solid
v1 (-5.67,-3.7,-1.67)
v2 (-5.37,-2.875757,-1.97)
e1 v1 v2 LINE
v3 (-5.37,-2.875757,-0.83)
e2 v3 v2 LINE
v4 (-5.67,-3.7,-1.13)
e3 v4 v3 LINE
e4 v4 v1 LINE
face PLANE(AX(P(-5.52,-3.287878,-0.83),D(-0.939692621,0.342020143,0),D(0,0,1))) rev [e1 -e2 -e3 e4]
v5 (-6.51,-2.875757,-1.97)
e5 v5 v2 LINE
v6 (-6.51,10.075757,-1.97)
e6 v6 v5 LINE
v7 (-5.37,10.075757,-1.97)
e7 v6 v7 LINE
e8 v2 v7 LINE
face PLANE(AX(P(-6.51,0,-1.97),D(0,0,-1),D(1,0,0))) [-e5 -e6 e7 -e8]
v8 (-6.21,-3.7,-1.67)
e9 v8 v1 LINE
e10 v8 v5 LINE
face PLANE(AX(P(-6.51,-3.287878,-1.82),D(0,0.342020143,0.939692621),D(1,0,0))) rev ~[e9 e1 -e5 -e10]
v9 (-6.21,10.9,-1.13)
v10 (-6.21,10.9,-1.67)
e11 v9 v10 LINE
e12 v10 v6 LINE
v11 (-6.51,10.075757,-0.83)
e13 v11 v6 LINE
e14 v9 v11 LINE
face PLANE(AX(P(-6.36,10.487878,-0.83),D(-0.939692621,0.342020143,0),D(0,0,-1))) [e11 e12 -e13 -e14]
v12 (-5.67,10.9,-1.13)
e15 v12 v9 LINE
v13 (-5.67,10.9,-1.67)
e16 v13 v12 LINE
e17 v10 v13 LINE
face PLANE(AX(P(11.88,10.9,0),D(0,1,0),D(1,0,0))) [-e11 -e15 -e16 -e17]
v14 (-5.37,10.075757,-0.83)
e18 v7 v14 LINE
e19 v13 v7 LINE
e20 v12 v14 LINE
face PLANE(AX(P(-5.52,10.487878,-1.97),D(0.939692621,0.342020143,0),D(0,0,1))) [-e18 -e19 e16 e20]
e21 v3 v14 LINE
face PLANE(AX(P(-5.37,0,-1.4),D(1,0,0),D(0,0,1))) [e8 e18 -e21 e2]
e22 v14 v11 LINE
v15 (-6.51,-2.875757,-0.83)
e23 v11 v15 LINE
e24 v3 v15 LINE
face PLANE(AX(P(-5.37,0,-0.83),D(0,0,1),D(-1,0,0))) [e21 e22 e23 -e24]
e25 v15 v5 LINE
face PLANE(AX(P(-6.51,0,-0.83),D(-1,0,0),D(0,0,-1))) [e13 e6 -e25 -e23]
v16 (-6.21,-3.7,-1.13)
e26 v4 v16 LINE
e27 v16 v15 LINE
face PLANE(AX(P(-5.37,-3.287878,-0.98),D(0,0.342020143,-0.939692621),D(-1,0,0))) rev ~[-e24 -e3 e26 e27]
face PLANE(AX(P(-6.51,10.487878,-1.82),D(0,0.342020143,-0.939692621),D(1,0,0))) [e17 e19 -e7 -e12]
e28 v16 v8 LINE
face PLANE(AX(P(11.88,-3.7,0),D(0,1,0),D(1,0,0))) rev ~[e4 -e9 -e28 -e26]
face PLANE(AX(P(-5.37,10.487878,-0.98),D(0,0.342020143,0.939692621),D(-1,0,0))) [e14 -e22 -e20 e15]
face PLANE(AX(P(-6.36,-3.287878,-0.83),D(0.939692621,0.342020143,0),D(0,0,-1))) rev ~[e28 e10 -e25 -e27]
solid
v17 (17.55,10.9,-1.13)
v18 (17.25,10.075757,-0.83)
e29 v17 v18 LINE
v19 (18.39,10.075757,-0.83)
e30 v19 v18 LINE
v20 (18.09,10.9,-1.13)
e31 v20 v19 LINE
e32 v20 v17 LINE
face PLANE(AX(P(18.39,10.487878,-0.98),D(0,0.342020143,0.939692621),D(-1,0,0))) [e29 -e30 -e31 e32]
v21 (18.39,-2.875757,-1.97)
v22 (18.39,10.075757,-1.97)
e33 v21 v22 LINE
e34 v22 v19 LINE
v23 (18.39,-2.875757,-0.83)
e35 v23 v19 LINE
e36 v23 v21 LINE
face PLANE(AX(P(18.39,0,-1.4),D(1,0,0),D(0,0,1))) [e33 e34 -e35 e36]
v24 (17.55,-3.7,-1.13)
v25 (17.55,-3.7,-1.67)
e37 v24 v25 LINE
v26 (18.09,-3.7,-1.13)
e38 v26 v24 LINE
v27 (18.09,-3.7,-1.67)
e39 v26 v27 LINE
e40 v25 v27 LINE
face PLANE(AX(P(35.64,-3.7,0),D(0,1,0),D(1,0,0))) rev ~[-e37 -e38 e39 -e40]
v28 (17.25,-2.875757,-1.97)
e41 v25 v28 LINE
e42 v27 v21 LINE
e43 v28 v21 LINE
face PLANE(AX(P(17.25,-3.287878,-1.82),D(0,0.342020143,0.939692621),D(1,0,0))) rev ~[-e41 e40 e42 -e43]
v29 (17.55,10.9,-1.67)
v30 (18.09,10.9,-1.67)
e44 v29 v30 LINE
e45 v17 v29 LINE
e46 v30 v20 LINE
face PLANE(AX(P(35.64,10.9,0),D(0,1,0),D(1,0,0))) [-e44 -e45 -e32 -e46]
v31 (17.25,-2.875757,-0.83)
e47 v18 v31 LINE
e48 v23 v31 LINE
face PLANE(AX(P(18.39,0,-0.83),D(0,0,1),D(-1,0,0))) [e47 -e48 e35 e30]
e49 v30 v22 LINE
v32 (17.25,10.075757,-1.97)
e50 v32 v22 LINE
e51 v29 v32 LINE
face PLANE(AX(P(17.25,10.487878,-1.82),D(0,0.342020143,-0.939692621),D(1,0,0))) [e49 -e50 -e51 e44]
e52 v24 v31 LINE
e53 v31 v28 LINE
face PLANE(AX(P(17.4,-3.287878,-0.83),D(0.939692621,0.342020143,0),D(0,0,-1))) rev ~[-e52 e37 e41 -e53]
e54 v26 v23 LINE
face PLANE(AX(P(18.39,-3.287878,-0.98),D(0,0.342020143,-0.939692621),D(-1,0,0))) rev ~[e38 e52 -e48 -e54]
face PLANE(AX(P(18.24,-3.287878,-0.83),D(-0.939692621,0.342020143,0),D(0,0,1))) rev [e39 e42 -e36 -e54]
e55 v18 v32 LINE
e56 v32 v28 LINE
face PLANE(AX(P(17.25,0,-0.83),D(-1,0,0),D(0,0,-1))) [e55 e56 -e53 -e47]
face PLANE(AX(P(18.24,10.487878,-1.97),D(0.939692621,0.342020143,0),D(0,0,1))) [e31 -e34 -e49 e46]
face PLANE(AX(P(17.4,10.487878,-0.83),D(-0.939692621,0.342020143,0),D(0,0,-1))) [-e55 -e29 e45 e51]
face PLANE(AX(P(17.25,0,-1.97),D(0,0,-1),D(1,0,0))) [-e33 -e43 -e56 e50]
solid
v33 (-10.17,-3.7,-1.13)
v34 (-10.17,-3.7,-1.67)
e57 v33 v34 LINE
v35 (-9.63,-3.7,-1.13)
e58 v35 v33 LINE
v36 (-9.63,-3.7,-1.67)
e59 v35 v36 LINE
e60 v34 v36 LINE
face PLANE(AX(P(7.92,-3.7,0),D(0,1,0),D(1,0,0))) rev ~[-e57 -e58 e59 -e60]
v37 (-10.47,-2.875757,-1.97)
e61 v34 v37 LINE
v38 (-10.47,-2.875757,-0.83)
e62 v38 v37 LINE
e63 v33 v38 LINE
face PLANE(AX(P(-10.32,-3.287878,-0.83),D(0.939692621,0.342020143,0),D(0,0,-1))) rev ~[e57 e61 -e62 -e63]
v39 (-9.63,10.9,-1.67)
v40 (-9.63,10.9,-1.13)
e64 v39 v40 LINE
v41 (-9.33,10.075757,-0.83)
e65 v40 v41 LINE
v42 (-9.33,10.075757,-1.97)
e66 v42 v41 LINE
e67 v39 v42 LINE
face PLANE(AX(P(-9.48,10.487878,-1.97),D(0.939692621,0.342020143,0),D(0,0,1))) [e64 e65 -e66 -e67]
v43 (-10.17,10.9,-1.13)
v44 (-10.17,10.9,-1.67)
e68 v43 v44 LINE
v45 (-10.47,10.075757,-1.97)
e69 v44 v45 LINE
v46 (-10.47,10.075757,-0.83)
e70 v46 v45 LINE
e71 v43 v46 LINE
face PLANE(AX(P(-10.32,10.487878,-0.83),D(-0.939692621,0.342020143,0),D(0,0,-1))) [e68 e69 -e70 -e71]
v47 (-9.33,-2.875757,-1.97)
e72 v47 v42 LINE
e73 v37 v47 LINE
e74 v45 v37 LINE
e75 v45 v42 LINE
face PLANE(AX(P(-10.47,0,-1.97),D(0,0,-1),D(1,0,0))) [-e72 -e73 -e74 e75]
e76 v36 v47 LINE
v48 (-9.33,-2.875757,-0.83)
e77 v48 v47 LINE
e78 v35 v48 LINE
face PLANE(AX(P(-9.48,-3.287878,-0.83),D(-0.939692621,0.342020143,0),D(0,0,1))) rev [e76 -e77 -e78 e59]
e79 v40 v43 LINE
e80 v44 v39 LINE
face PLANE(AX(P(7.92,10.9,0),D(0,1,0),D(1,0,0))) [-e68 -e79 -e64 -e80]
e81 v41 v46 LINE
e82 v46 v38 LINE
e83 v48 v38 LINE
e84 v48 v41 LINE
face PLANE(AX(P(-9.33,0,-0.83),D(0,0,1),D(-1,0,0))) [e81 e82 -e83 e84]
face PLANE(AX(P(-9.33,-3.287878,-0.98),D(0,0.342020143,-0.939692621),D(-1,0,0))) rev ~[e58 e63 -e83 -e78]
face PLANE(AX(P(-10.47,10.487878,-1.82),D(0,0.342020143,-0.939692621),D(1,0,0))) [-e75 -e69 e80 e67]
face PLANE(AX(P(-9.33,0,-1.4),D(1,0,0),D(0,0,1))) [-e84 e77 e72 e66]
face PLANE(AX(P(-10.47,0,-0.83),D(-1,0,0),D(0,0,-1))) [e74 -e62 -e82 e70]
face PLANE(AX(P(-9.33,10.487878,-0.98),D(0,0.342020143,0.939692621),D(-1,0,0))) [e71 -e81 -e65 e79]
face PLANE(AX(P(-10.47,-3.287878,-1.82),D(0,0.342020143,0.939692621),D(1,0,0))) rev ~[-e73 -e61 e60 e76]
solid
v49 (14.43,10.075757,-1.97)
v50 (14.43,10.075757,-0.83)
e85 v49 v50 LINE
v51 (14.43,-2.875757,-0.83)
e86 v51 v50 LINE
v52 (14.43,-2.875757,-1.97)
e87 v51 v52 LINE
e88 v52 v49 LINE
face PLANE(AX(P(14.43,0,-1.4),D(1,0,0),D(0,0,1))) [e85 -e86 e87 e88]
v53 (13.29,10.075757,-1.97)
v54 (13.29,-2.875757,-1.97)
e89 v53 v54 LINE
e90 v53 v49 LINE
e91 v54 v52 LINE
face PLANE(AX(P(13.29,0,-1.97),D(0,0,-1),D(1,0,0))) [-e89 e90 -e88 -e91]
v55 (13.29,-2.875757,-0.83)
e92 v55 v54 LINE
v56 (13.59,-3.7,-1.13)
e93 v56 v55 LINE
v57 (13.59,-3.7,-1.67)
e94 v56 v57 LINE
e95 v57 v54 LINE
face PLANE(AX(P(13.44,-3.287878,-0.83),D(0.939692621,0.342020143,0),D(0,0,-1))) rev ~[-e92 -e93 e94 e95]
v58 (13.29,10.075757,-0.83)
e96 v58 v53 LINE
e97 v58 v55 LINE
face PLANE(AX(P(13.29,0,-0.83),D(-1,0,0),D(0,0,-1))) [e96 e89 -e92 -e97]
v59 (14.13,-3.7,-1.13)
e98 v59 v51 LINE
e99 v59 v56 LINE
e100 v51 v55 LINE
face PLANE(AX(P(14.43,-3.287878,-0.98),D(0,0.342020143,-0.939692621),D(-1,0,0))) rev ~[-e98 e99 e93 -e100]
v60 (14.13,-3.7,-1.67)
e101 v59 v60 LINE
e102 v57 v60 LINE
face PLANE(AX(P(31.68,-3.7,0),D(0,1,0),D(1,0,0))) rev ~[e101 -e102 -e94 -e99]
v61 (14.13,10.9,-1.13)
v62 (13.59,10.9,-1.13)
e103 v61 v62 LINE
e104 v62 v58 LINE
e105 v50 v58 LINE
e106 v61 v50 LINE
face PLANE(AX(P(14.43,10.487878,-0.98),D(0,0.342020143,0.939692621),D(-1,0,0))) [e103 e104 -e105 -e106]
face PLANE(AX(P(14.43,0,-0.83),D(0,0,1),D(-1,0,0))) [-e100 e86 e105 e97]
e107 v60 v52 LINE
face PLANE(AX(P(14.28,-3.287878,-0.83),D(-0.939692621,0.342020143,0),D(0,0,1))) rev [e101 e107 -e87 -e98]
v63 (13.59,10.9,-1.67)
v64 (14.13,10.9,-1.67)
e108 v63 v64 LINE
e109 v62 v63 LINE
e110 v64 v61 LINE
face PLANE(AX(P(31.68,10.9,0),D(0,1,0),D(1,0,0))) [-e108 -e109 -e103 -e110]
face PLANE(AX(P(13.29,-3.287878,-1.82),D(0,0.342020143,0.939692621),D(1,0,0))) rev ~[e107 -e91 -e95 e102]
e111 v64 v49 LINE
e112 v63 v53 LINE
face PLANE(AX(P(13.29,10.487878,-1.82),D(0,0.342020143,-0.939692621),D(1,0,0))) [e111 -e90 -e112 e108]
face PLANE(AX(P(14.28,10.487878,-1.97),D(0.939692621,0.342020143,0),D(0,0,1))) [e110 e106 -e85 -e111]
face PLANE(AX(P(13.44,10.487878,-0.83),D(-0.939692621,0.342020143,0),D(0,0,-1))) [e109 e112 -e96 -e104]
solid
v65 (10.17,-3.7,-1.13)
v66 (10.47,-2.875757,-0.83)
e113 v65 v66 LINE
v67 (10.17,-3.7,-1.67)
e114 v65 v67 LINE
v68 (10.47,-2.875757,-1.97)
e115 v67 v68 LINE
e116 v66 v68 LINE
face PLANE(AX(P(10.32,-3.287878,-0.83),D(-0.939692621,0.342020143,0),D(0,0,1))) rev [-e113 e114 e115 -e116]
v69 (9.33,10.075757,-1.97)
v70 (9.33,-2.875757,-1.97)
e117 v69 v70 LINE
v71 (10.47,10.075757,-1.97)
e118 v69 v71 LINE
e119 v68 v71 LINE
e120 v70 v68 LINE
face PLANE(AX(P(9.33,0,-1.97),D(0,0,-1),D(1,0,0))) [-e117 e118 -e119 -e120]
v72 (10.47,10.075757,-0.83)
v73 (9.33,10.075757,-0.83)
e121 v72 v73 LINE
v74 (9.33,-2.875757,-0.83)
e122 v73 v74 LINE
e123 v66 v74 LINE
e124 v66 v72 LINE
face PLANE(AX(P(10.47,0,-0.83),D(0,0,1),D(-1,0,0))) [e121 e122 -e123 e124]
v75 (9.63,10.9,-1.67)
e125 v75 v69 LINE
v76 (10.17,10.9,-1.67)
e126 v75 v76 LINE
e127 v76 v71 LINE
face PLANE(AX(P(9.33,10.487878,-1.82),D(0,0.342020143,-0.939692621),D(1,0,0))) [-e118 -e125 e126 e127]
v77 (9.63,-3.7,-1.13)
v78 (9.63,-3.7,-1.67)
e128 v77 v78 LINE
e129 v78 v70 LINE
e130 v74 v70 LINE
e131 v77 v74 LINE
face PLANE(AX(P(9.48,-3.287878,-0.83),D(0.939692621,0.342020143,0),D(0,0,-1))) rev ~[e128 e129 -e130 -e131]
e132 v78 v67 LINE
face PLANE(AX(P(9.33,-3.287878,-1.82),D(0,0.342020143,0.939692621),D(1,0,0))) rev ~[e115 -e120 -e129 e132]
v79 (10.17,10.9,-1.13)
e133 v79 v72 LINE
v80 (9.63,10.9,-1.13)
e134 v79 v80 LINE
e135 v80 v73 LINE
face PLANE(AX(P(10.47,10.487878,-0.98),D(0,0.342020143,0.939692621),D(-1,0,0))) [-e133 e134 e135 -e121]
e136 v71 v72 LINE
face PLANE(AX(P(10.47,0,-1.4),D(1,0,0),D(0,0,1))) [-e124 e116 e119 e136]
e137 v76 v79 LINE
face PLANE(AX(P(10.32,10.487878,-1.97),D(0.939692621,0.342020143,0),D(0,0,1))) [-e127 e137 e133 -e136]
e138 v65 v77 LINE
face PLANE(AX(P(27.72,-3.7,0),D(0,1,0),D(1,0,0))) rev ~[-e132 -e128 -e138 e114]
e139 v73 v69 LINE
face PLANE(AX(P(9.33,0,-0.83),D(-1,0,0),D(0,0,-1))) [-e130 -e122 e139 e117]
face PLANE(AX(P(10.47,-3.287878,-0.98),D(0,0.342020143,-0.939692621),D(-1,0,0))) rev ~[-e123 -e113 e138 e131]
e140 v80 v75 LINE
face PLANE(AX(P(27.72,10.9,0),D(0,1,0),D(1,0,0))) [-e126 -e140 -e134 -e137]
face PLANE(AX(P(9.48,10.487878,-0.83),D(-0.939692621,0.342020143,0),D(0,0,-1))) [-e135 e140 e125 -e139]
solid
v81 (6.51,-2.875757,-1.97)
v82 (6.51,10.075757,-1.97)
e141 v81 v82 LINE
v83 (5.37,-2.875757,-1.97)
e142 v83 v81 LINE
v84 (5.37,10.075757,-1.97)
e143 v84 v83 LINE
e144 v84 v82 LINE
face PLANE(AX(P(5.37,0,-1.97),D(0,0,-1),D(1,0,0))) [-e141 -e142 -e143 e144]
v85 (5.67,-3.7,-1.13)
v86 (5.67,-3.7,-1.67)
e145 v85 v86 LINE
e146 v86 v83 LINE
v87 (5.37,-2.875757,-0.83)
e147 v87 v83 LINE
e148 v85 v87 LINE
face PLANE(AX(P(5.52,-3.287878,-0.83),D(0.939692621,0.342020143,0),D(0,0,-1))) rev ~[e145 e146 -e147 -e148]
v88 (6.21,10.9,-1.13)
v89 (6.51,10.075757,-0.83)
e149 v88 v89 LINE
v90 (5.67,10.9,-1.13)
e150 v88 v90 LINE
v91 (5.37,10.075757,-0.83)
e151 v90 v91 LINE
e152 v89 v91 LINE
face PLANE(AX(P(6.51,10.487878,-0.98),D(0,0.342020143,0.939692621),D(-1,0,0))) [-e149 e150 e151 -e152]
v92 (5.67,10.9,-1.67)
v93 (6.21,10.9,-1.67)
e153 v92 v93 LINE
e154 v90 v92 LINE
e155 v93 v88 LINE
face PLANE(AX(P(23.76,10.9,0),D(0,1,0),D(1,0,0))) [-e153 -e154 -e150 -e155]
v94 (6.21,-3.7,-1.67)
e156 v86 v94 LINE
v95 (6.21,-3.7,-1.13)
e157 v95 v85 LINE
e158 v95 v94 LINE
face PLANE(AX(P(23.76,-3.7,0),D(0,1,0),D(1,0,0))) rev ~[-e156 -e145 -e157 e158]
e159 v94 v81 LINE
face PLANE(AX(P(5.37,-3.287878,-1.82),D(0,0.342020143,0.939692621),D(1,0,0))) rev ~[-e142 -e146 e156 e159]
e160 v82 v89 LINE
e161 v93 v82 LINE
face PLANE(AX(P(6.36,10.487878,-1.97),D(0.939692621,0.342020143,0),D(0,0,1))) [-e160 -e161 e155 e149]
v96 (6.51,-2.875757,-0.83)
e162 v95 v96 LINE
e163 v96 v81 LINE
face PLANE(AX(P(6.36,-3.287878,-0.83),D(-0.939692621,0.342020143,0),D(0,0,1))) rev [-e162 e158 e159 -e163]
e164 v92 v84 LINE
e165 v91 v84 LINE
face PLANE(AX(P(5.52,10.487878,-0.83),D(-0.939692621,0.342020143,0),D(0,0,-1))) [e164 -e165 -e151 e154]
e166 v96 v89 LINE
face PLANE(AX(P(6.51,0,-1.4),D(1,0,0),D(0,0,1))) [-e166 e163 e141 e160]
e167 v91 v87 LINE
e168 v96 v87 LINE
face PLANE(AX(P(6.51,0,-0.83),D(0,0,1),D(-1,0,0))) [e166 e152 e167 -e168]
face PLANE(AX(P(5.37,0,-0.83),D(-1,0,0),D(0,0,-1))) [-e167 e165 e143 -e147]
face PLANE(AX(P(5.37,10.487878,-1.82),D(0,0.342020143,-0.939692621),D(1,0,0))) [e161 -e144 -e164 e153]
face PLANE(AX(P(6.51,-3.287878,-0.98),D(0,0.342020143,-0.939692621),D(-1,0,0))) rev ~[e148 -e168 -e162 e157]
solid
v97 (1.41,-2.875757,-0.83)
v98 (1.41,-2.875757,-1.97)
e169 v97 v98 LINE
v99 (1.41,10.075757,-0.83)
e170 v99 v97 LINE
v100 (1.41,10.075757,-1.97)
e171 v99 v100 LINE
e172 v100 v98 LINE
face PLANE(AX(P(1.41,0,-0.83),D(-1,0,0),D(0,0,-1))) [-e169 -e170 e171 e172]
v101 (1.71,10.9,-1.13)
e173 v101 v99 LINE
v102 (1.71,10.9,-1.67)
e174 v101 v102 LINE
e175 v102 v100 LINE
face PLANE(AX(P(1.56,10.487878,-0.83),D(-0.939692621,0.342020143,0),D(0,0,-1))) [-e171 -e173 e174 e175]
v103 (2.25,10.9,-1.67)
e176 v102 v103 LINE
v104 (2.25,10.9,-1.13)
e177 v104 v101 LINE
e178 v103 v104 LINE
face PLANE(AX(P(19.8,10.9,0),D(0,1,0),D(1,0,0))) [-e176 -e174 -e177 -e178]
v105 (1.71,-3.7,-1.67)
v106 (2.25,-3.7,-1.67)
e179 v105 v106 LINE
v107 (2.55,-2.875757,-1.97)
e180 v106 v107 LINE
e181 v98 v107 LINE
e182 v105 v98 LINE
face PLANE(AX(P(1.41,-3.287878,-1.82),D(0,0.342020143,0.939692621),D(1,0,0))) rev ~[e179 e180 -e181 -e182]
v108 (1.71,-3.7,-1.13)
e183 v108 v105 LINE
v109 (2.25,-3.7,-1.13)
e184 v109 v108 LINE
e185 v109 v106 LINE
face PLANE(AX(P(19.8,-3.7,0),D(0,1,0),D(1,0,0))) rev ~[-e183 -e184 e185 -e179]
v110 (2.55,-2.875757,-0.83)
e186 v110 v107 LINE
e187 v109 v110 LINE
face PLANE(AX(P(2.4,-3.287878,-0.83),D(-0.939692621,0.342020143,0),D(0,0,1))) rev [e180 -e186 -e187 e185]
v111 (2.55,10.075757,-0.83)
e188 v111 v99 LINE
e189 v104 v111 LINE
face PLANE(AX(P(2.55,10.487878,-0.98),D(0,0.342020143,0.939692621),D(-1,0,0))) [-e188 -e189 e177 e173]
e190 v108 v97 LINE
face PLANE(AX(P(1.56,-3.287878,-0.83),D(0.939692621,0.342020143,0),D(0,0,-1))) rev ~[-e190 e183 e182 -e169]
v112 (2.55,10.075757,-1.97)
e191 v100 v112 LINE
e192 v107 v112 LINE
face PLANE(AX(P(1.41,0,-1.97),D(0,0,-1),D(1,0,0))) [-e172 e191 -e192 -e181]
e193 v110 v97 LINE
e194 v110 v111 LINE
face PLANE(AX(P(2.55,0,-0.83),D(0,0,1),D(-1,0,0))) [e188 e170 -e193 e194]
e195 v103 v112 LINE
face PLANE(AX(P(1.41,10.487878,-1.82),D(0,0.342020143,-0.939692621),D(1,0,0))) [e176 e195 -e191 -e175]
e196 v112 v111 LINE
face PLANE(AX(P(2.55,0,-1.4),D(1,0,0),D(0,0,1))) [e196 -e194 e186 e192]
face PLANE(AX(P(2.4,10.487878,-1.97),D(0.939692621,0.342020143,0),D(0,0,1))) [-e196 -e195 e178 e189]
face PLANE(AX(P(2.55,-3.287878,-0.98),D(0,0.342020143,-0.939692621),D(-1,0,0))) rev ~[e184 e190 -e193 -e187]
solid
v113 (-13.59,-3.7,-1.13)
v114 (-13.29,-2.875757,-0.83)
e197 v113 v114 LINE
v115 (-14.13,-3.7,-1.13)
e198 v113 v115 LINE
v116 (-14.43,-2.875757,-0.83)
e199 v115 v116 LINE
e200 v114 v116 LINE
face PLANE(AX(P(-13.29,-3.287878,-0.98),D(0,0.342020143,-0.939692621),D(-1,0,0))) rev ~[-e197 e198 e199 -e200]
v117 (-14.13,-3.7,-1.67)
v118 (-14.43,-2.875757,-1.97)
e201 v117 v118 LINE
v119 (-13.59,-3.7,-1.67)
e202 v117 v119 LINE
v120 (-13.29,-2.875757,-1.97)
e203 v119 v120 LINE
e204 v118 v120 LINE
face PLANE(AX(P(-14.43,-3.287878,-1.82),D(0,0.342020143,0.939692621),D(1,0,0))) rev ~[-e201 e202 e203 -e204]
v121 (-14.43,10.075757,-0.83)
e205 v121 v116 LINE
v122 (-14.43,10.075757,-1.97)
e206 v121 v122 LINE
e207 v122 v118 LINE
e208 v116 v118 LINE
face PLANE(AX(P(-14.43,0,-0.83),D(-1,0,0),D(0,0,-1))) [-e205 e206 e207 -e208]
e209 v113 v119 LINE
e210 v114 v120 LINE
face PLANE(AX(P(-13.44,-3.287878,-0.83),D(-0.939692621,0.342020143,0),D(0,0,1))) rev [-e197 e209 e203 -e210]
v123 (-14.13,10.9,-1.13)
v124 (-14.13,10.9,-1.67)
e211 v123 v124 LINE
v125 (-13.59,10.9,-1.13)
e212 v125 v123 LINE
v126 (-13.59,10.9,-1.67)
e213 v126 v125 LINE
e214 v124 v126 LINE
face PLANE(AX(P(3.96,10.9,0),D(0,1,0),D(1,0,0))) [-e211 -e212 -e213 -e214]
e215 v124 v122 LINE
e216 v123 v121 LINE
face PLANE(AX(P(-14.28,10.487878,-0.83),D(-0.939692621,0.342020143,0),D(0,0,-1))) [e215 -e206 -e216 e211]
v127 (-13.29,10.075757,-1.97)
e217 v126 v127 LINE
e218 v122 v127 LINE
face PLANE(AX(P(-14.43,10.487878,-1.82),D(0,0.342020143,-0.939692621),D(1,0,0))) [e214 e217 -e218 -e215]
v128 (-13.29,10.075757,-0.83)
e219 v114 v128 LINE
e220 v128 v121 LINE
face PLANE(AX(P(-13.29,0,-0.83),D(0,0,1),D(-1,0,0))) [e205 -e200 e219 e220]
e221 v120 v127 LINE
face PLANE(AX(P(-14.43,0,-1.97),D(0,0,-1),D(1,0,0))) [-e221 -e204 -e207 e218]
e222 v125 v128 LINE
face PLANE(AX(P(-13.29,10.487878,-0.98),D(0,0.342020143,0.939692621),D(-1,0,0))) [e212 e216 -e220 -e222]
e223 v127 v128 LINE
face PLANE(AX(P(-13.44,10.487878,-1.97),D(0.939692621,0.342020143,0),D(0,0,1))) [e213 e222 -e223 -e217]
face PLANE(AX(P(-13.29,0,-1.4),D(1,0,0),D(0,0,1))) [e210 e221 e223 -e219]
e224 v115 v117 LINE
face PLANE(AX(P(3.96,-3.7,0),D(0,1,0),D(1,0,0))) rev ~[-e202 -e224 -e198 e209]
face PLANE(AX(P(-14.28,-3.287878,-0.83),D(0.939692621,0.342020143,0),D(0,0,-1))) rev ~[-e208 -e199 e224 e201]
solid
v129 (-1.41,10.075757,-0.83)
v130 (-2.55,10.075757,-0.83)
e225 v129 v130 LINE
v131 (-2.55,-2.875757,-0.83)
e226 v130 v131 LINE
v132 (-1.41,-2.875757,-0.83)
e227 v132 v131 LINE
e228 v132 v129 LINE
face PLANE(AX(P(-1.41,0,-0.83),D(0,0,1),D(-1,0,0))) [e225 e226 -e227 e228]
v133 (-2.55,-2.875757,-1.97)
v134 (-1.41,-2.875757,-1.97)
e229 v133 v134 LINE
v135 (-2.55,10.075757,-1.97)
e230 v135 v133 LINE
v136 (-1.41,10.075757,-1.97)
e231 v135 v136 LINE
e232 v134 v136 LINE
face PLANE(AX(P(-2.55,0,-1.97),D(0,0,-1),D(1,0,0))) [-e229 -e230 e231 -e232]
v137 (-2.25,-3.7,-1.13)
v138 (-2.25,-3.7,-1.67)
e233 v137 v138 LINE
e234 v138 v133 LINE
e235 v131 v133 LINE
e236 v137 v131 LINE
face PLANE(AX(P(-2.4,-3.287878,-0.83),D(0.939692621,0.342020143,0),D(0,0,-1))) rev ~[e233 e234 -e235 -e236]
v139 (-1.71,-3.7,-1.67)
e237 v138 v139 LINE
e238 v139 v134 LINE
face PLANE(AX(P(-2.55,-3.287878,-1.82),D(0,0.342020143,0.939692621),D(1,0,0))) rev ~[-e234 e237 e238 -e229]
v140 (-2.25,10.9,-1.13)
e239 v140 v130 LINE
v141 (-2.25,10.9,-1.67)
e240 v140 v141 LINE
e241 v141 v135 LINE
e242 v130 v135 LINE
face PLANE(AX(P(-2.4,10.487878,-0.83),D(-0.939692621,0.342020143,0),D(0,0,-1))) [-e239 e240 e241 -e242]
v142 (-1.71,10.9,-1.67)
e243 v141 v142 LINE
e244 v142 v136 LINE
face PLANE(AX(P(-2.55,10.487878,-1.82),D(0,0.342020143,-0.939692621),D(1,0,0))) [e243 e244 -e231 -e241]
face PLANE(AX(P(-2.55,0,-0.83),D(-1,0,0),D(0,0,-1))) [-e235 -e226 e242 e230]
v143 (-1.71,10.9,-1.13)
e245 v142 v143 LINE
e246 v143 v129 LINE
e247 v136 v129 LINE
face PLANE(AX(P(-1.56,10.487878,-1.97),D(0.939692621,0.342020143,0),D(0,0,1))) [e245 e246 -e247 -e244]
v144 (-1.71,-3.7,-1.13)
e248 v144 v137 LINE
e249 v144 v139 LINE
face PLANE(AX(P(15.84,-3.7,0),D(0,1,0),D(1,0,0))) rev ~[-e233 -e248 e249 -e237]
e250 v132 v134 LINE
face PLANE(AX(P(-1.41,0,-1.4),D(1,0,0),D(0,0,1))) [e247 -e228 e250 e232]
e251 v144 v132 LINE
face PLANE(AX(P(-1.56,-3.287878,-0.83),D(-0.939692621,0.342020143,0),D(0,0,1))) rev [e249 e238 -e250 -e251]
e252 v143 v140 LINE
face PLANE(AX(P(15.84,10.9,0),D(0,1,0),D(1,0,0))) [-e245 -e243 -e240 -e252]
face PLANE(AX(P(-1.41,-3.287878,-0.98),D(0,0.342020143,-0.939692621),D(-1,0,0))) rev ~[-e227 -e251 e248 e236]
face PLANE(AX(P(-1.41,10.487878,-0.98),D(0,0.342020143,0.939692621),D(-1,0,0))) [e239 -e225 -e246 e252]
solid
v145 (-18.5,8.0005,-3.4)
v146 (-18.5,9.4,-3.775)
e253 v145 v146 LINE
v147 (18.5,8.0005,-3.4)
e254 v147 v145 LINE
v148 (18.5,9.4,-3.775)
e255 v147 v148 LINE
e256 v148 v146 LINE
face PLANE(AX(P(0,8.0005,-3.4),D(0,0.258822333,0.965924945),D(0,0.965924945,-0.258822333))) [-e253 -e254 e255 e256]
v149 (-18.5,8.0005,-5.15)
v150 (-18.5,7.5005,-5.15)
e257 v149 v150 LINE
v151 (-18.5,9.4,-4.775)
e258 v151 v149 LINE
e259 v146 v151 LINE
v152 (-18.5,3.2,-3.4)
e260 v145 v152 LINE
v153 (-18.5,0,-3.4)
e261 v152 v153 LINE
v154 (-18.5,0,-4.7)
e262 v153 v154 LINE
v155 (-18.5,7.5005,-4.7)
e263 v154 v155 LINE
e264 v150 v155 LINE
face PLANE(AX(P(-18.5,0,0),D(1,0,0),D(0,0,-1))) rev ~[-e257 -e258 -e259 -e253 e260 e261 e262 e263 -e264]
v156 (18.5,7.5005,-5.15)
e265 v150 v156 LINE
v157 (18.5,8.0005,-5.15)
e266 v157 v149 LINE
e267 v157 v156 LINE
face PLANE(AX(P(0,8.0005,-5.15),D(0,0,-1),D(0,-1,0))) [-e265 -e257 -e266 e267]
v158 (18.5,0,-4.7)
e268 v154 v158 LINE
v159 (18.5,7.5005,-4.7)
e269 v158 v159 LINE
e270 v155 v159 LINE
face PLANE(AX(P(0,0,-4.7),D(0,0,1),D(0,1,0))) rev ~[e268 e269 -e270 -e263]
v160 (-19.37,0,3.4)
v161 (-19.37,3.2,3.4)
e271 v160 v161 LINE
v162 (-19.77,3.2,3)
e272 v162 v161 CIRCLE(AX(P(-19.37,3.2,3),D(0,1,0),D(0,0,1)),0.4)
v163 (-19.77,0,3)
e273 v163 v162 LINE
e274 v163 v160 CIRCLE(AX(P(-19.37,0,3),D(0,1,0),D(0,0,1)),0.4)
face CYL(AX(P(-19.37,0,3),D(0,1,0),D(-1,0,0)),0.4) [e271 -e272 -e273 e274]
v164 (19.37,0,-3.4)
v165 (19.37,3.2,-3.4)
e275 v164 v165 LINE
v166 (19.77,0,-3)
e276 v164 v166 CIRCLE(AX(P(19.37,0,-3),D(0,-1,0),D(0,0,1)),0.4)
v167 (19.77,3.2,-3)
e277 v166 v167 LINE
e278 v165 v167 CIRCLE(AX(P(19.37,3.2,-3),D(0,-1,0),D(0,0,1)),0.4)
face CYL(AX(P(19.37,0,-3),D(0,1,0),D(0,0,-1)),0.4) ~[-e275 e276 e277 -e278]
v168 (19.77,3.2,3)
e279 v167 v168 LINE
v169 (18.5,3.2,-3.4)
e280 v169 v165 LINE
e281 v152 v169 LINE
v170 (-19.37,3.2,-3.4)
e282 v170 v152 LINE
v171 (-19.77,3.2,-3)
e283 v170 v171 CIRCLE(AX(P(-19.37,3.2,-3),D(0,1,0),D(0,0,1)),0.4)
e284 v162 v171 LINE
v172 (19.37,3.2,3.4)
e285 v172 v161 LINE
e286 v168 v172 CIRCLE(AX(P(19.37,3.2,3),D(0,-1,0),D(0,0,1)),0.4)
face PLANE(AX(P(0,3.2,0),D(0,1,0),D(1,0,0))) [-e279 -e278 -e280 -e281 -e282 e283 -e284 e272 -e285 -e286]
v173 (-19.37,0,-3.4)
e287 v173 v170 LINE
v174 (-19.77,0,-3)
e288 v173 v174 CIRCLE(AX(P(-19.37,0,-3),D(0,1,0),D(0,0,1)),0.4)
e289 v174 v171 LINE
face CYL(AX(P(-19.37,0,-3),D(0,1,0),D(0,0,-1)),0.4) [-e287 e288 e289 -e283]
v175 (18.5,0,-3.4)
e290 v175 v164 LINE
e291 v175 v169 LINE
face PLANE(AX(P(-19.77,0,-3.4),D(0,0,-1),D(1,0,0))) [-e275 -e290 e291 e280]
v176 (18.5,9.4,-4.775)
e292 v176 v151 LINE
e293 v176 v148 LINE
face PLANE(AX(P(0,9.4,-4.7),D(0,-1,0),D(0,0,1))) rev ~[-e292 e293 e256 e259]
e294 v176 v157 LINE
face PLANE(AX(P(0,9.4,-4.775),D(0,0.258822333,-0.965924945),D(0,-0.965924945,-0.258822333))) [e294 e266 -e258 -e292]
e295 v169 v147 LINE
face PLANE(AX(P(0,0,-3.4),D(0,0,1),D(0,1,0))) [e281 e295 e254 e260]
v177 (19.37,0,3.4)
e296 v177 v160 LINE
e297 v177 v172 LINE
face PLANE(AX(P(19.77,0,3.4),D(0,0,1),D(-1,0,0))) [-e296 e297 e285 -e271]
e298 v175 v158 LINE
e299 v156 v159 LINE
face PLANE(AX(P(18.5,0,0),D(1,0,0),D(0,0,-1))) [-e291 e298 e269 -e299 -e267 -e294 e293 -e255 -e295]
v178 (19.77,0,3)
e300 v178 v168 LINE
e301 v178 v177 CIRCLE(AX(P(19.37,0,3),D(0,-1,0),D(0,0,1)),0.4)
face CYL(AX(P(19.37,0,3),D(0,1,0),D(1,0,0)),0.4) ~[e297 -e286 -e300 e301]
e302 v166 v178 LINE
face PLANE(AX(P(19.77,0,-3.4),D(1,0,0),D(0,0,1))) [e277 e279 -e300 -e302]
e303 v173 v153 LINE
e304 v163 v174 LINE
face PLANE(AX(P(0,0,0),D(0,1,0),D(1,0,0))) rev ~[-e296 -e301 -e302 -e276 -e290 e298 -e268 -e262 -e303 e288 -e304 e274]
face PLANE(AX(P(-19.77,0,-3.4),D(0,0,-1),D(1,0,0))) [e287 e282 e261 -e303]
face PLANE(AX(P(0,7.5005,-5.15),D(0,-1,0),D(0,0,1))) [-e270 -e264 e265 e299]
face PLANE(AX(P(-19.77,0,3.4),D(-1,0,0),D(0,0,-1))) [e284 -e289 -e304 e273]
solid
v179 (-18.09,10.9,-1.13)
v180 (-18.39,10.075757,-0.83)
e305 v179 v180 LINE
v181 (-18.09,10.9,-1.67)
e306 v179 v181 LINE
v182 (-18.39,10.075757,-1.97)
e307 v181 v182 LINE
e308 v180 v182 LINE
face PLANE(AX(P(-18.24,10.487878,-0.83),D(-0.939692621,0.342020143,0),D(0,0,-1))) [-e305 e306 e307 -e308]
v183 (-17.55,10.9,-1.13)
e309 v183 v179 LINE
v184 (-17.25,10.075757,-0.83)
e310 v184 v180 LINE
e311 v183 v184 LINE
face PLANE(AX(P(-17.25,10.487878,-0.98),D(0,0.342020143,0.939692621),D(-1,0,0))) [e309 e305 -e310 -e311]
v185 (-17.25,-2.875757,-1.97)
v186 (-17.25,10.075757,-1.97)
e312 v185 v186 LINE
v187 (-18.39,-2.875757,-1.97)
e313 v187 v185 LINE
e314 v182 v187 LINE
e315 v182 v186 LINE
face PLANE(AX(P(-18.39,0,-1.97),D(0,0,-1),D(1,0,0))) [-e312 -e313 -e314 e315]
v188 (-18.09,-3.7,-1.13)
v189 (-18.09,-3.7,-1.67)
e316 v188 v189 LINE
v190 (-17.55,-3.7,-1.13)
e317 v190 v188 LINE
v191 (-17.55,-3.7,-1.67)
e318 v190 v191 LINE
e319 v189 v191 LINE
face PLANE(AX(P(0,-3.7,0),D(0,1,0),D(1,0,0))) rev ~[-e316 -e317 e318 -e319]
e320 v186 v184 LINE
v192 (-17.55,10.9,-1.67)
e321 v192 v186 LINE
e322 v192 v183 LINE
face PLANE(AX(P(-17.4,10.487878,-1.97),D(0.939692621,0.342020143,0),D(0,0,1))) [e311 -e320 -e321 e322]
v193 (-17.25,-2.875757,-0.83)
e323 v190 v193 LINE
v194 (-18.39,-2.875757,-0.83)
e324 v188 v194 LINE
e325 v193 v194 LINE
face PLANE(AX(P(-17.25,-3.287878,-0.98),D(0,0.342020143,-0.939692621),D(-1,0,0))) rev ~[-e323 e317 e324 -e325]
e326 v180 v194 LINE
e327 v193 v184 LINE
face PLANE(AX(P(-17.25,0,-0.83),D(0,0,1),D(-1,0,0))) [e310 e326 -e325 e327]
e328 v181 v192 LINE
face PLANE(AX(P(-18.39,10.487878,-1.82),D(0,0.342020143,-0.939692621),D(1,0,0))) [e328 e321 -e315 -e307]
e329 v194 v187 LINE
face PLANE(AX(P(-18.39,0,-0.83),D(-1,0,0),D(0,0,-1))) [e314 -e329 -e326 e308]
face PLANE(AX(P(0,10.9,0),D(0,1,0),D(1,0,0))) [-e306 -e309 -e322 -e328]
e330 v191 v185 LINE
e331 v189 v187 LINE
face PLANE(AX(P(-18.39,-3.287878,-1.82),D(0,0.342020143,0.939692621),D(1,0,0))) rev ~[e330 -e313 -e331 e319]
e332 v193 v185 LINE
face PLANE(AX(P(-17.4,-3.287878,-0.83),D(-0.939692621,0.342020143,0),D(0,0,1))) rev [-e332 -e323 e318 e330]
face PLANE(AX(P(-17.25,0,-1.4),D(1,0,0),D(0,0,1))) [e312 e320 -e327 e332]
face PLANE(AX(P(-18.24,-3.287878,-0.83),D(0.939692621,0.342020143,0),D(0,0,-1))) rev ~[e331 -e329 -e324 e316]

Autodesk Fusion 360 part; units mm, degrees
sketch "Skizze1" plane through (0, 0, 0) normal (0, 1, 0) x (1, 0, 0)
  line L0 (-19.77, 3.4) -> (19.77, 3.4)
  line L1 (19.77, 3.4) -> (19.77, -3.4)
  line L2 (19.77, -3.4) -> (-19.77, -3.4)
  line L3 (-19.77, -3.4) -> (-19.77, 3.4)
  line L4 (0, 3.4) -> (0, -3.4) construction
  dimension "d9" = 39.54
  dimension "d10" = 6.8
extrude "Extrusion1" add sketch "Skizze1" along normal blind 3.2 makes body 1
sketch "Skizze3" plane through (0, 0, 0) normal (1, 0, 0) x (0, 0, -1)
  line L0 (3.4, 0) -> (3.4, 3.2)
  line L1 (3.4, 0) -> (4.7, 0)
  line L2 (4.7, 0) -> (4.7, 9.4)
  line L3 (4.7, 9.4) -> (3.4, 9.4) construction
  line L4 (3.4, 9.4) -> (3.4, 0)
  line L5 (4.7, 9.4) -> (5.15, 9.4)
  line L6 (5.15, 9.4) -> (5.15, 0)
  line L7 (5.15, 0) -> (4.7, 0)
  line L8 (4.7, 0) -> (4.7, 9.4) construction
  line L9 (3.4, 8.0005) -> (3.775, 9.4)
  line L10 (4.775, 9.4) -> (5.15, 8.0005)
  line L11 (5.15, 7.5005) -> (4.7, 7.5005)
  line L12 (4.775, 9.4) -> (3.775, 9.4)
  line L13 (3.775, 9.4) -> (4.775, 9.4) construction
  line L14 (4.775, 9.4) -> (5.15, 9.4) construction
  line L15 (3.775, 9.4) -> (3.4, 9.4) construction
  line L16 (5.15, 9.4) -> (4.775, 9.4) construction
  line L17 (5.15, 8.0005) -> (5.15, 7.5005) construction
  line L18 (5.15, 7.5005) -> (5.15, 8.0005) construction
  line L19 (5.15, 9.4) -> (3.4, 9.4)
  line L20 (5.15, 0) -> (3.4, 0)
  dimension "d31" = 9.4
  dimension "d33" = 1.3
  dimension "d35" = 90
  dimension "d36" = 75
  dimension "d37" = 75
  dimension "d39" = 1
  dimension "d42" = 0.5
  dimension "d48" = 1.75
sketch "Skizze2" plane through (0, 0, 0) normal (0, 1, 0) x (1, 0, 0)
  line L0 (-17.25, 0.83) -> (-18.39, 0.83)
  line L1 (-18.39, 0.83) -> (-18.39, 1.97)
  line L2 (-18.39, 1.97) -> (-17.25, 1.97)
  line L3 (-17.25, 1.97) -> (-17.25, 0.83)
  line L4 (-19.77, 3.4) -> (19.77, 3.4)
  line L5 (19.77, 3.4) -> (19.77, -3.4)
  line L6 (19.77, -3.4) -> (-19.77, -3.4)
  line L7 (-19.77, -3.4) -> (-19.77, 3.4)
  line L8 (0, 3.4) -> (0, 1.4) construction
  line L9 (-17.25, 1.4) -> (-18.39, 1.4) construction
  line L10 (0, 1.4) -> (-17.82, 1.4)
  point P0 (-17.82, 1.4)
  dimension "d16" = 1.14
  dimension "d17" = 1.14
  dimension "d24" = 2
  dimension "d26" = 17.82
extrude "Extrusion3" add sketch "Skizze3" along normal mid plane 37 contours L0 L1 L2 L4 L9 L12 L19 L20 | L2 L5 L6 L10 L11 L12 L19 bodies 1
extrude "Extrusion2" add sketch "Skizze2" along normal blind 10.9 and the other way blind 3.7 separate body contours L0 L1 L2 L3 makes body 2
chamfer "Fase2" distance 0.3 angle 70 8 edges at (-17.82, 10.9, -0.83) (-17.25, 10.9, -1.4) (-17.82, 10.9, -1.97) (-18.39, 10.9, -1.4) (-17.25, -3.7, -1.4) (-17.82, -3.7, -0.83) (-18.39, -3.7, -1.4) (-17.82, -3.7, -1.97) measured on face at (-17.63, 10.9, -1.21) measured on face at (-17.63, 10.9, -1.21) measured on face at (-17.63, 10.9, -1.21) measured on face at (-17.63, 10.9, -1.21) measured on face at (-17.63, -3.7, -1.21) measured on face at (-17.63, -3.7, -1.21) measured on face at (-17.63, -3.7, -1.21) measured on face at (-17.63, -3.7, -1.21) on bodies 2
pattern_linear "R-Anordnung1" count 10 spacing 3.96 along (1, 0, 0) of bodies 2 makes body 3 at (-13.67, 1.4414, -0.83) makes body 4 at (-9.71, 1.4414, -0.83) makes body 5 at (-5.75, 1.4414, -0.83) makes body 6 at (-1.79, 1.4414, -0.83) makes body 7 at (2.17, 1.4414, -0.83) makes body 8 at (6.13, 1.4414, -0.83) makes body 9 at (10.09, 1.4414, -0.83) makes body 10 at (14.05, 1.4414, -0.83) makes body 11 at (18.01, 1.4414, -0.83)
fillet "Abrundung1" radius 0.4 4 edges at (19.77, 1.6, -3.4) (19.77, 1.6, 3.4) (-19.77, 1.6, 3.4) (-19.77, 1.6, -3.4) on bodies 1
equation "n = 10" comment "Number of pins"
equation "P = 3.96 mm" comment "Pin pitch"
equation "B1 = A1 + ( 1.95 mm * 2 )" comment "Width of bottom plate"
equation "A1 = ( n - 1 ) * P" comment "Total width of all pins"
equation "C1 = 6.8 mm" comment "Height of bottom plate"
equation "H1 = 9.4 mm" comment "Height of latching plate"
equation "O1 = 2 mm" comment "Vertical offset pin-center to bottom plate border"
equation "d9 = B1"
equation "d10 = C1"
equation "D1 = 3.2 mm" comment "Total depth of bottom plate"
equation "Pw = 1.14 mm" comment "Width & height of square pin"
equation "d13 = D1"
equation "d16 = Pw"
equation "d17 = Pw"
equation "LPinTop = 7.7 mm + D1" comment "Length of the pin measured from the bottom plane to the top of the pin (away from PCB)"
equation "LPinBottom = 14.6 mm - LPinTop" comment "Length of the pin in bottom direction, measured from the bottom plane"
equation "d20 = LPinTop"
equation "d22 = LPinBottom"
equation "d24 = O1"
equation "Pin1XOffset = ( ( n - 1 ) * P ) / 2" comment "First pin X offset measured from the X axis"
equation "d26 = Pin1XOffset"
equation "d27 = n"
equation "d29 = P"
equation "d31 = H1"
equation "D2 = 1.3 mm" comment "(Measured) depth of latching plate (narrowest section)"
equation "d33 = D2"
equation "d35 = alpha"
equation "d36 = 90 deg - beta"
equation "d37 = 90 deg - beta"
equation "Wx1 = 1.0 mm" comment "(Measured) Width of the topmost part of the latching plate"
equation "Hx1 = 0.5 mm" comment "(Measured) Height of the latching surface facing away from the pins"
equation "alpha = 90 deg" comment "Angle of the latching surface. Shown by the datasheet as ~45°but real parts have 90°"
equation "d42 = Hx1"
equation "beta = 15 deg" comment "(Estimated) Latching plate tapering angle"
equation "WL1 = 1.27 mm" comment "(Measured) With of the section of the bottom plate where there is no latching plate per side)"
equation "d45 = B1 - ( WL1 * 2 )"
equation "Dlatch = 1.75 mm" comment "(Measured) Total depth of latching plate"
equation "d48 = Dlatch"
equation "d54 = delta"
equation "delta = 70 deg" comment "(Estimated) Taper angle of the pin top & bottoms"
